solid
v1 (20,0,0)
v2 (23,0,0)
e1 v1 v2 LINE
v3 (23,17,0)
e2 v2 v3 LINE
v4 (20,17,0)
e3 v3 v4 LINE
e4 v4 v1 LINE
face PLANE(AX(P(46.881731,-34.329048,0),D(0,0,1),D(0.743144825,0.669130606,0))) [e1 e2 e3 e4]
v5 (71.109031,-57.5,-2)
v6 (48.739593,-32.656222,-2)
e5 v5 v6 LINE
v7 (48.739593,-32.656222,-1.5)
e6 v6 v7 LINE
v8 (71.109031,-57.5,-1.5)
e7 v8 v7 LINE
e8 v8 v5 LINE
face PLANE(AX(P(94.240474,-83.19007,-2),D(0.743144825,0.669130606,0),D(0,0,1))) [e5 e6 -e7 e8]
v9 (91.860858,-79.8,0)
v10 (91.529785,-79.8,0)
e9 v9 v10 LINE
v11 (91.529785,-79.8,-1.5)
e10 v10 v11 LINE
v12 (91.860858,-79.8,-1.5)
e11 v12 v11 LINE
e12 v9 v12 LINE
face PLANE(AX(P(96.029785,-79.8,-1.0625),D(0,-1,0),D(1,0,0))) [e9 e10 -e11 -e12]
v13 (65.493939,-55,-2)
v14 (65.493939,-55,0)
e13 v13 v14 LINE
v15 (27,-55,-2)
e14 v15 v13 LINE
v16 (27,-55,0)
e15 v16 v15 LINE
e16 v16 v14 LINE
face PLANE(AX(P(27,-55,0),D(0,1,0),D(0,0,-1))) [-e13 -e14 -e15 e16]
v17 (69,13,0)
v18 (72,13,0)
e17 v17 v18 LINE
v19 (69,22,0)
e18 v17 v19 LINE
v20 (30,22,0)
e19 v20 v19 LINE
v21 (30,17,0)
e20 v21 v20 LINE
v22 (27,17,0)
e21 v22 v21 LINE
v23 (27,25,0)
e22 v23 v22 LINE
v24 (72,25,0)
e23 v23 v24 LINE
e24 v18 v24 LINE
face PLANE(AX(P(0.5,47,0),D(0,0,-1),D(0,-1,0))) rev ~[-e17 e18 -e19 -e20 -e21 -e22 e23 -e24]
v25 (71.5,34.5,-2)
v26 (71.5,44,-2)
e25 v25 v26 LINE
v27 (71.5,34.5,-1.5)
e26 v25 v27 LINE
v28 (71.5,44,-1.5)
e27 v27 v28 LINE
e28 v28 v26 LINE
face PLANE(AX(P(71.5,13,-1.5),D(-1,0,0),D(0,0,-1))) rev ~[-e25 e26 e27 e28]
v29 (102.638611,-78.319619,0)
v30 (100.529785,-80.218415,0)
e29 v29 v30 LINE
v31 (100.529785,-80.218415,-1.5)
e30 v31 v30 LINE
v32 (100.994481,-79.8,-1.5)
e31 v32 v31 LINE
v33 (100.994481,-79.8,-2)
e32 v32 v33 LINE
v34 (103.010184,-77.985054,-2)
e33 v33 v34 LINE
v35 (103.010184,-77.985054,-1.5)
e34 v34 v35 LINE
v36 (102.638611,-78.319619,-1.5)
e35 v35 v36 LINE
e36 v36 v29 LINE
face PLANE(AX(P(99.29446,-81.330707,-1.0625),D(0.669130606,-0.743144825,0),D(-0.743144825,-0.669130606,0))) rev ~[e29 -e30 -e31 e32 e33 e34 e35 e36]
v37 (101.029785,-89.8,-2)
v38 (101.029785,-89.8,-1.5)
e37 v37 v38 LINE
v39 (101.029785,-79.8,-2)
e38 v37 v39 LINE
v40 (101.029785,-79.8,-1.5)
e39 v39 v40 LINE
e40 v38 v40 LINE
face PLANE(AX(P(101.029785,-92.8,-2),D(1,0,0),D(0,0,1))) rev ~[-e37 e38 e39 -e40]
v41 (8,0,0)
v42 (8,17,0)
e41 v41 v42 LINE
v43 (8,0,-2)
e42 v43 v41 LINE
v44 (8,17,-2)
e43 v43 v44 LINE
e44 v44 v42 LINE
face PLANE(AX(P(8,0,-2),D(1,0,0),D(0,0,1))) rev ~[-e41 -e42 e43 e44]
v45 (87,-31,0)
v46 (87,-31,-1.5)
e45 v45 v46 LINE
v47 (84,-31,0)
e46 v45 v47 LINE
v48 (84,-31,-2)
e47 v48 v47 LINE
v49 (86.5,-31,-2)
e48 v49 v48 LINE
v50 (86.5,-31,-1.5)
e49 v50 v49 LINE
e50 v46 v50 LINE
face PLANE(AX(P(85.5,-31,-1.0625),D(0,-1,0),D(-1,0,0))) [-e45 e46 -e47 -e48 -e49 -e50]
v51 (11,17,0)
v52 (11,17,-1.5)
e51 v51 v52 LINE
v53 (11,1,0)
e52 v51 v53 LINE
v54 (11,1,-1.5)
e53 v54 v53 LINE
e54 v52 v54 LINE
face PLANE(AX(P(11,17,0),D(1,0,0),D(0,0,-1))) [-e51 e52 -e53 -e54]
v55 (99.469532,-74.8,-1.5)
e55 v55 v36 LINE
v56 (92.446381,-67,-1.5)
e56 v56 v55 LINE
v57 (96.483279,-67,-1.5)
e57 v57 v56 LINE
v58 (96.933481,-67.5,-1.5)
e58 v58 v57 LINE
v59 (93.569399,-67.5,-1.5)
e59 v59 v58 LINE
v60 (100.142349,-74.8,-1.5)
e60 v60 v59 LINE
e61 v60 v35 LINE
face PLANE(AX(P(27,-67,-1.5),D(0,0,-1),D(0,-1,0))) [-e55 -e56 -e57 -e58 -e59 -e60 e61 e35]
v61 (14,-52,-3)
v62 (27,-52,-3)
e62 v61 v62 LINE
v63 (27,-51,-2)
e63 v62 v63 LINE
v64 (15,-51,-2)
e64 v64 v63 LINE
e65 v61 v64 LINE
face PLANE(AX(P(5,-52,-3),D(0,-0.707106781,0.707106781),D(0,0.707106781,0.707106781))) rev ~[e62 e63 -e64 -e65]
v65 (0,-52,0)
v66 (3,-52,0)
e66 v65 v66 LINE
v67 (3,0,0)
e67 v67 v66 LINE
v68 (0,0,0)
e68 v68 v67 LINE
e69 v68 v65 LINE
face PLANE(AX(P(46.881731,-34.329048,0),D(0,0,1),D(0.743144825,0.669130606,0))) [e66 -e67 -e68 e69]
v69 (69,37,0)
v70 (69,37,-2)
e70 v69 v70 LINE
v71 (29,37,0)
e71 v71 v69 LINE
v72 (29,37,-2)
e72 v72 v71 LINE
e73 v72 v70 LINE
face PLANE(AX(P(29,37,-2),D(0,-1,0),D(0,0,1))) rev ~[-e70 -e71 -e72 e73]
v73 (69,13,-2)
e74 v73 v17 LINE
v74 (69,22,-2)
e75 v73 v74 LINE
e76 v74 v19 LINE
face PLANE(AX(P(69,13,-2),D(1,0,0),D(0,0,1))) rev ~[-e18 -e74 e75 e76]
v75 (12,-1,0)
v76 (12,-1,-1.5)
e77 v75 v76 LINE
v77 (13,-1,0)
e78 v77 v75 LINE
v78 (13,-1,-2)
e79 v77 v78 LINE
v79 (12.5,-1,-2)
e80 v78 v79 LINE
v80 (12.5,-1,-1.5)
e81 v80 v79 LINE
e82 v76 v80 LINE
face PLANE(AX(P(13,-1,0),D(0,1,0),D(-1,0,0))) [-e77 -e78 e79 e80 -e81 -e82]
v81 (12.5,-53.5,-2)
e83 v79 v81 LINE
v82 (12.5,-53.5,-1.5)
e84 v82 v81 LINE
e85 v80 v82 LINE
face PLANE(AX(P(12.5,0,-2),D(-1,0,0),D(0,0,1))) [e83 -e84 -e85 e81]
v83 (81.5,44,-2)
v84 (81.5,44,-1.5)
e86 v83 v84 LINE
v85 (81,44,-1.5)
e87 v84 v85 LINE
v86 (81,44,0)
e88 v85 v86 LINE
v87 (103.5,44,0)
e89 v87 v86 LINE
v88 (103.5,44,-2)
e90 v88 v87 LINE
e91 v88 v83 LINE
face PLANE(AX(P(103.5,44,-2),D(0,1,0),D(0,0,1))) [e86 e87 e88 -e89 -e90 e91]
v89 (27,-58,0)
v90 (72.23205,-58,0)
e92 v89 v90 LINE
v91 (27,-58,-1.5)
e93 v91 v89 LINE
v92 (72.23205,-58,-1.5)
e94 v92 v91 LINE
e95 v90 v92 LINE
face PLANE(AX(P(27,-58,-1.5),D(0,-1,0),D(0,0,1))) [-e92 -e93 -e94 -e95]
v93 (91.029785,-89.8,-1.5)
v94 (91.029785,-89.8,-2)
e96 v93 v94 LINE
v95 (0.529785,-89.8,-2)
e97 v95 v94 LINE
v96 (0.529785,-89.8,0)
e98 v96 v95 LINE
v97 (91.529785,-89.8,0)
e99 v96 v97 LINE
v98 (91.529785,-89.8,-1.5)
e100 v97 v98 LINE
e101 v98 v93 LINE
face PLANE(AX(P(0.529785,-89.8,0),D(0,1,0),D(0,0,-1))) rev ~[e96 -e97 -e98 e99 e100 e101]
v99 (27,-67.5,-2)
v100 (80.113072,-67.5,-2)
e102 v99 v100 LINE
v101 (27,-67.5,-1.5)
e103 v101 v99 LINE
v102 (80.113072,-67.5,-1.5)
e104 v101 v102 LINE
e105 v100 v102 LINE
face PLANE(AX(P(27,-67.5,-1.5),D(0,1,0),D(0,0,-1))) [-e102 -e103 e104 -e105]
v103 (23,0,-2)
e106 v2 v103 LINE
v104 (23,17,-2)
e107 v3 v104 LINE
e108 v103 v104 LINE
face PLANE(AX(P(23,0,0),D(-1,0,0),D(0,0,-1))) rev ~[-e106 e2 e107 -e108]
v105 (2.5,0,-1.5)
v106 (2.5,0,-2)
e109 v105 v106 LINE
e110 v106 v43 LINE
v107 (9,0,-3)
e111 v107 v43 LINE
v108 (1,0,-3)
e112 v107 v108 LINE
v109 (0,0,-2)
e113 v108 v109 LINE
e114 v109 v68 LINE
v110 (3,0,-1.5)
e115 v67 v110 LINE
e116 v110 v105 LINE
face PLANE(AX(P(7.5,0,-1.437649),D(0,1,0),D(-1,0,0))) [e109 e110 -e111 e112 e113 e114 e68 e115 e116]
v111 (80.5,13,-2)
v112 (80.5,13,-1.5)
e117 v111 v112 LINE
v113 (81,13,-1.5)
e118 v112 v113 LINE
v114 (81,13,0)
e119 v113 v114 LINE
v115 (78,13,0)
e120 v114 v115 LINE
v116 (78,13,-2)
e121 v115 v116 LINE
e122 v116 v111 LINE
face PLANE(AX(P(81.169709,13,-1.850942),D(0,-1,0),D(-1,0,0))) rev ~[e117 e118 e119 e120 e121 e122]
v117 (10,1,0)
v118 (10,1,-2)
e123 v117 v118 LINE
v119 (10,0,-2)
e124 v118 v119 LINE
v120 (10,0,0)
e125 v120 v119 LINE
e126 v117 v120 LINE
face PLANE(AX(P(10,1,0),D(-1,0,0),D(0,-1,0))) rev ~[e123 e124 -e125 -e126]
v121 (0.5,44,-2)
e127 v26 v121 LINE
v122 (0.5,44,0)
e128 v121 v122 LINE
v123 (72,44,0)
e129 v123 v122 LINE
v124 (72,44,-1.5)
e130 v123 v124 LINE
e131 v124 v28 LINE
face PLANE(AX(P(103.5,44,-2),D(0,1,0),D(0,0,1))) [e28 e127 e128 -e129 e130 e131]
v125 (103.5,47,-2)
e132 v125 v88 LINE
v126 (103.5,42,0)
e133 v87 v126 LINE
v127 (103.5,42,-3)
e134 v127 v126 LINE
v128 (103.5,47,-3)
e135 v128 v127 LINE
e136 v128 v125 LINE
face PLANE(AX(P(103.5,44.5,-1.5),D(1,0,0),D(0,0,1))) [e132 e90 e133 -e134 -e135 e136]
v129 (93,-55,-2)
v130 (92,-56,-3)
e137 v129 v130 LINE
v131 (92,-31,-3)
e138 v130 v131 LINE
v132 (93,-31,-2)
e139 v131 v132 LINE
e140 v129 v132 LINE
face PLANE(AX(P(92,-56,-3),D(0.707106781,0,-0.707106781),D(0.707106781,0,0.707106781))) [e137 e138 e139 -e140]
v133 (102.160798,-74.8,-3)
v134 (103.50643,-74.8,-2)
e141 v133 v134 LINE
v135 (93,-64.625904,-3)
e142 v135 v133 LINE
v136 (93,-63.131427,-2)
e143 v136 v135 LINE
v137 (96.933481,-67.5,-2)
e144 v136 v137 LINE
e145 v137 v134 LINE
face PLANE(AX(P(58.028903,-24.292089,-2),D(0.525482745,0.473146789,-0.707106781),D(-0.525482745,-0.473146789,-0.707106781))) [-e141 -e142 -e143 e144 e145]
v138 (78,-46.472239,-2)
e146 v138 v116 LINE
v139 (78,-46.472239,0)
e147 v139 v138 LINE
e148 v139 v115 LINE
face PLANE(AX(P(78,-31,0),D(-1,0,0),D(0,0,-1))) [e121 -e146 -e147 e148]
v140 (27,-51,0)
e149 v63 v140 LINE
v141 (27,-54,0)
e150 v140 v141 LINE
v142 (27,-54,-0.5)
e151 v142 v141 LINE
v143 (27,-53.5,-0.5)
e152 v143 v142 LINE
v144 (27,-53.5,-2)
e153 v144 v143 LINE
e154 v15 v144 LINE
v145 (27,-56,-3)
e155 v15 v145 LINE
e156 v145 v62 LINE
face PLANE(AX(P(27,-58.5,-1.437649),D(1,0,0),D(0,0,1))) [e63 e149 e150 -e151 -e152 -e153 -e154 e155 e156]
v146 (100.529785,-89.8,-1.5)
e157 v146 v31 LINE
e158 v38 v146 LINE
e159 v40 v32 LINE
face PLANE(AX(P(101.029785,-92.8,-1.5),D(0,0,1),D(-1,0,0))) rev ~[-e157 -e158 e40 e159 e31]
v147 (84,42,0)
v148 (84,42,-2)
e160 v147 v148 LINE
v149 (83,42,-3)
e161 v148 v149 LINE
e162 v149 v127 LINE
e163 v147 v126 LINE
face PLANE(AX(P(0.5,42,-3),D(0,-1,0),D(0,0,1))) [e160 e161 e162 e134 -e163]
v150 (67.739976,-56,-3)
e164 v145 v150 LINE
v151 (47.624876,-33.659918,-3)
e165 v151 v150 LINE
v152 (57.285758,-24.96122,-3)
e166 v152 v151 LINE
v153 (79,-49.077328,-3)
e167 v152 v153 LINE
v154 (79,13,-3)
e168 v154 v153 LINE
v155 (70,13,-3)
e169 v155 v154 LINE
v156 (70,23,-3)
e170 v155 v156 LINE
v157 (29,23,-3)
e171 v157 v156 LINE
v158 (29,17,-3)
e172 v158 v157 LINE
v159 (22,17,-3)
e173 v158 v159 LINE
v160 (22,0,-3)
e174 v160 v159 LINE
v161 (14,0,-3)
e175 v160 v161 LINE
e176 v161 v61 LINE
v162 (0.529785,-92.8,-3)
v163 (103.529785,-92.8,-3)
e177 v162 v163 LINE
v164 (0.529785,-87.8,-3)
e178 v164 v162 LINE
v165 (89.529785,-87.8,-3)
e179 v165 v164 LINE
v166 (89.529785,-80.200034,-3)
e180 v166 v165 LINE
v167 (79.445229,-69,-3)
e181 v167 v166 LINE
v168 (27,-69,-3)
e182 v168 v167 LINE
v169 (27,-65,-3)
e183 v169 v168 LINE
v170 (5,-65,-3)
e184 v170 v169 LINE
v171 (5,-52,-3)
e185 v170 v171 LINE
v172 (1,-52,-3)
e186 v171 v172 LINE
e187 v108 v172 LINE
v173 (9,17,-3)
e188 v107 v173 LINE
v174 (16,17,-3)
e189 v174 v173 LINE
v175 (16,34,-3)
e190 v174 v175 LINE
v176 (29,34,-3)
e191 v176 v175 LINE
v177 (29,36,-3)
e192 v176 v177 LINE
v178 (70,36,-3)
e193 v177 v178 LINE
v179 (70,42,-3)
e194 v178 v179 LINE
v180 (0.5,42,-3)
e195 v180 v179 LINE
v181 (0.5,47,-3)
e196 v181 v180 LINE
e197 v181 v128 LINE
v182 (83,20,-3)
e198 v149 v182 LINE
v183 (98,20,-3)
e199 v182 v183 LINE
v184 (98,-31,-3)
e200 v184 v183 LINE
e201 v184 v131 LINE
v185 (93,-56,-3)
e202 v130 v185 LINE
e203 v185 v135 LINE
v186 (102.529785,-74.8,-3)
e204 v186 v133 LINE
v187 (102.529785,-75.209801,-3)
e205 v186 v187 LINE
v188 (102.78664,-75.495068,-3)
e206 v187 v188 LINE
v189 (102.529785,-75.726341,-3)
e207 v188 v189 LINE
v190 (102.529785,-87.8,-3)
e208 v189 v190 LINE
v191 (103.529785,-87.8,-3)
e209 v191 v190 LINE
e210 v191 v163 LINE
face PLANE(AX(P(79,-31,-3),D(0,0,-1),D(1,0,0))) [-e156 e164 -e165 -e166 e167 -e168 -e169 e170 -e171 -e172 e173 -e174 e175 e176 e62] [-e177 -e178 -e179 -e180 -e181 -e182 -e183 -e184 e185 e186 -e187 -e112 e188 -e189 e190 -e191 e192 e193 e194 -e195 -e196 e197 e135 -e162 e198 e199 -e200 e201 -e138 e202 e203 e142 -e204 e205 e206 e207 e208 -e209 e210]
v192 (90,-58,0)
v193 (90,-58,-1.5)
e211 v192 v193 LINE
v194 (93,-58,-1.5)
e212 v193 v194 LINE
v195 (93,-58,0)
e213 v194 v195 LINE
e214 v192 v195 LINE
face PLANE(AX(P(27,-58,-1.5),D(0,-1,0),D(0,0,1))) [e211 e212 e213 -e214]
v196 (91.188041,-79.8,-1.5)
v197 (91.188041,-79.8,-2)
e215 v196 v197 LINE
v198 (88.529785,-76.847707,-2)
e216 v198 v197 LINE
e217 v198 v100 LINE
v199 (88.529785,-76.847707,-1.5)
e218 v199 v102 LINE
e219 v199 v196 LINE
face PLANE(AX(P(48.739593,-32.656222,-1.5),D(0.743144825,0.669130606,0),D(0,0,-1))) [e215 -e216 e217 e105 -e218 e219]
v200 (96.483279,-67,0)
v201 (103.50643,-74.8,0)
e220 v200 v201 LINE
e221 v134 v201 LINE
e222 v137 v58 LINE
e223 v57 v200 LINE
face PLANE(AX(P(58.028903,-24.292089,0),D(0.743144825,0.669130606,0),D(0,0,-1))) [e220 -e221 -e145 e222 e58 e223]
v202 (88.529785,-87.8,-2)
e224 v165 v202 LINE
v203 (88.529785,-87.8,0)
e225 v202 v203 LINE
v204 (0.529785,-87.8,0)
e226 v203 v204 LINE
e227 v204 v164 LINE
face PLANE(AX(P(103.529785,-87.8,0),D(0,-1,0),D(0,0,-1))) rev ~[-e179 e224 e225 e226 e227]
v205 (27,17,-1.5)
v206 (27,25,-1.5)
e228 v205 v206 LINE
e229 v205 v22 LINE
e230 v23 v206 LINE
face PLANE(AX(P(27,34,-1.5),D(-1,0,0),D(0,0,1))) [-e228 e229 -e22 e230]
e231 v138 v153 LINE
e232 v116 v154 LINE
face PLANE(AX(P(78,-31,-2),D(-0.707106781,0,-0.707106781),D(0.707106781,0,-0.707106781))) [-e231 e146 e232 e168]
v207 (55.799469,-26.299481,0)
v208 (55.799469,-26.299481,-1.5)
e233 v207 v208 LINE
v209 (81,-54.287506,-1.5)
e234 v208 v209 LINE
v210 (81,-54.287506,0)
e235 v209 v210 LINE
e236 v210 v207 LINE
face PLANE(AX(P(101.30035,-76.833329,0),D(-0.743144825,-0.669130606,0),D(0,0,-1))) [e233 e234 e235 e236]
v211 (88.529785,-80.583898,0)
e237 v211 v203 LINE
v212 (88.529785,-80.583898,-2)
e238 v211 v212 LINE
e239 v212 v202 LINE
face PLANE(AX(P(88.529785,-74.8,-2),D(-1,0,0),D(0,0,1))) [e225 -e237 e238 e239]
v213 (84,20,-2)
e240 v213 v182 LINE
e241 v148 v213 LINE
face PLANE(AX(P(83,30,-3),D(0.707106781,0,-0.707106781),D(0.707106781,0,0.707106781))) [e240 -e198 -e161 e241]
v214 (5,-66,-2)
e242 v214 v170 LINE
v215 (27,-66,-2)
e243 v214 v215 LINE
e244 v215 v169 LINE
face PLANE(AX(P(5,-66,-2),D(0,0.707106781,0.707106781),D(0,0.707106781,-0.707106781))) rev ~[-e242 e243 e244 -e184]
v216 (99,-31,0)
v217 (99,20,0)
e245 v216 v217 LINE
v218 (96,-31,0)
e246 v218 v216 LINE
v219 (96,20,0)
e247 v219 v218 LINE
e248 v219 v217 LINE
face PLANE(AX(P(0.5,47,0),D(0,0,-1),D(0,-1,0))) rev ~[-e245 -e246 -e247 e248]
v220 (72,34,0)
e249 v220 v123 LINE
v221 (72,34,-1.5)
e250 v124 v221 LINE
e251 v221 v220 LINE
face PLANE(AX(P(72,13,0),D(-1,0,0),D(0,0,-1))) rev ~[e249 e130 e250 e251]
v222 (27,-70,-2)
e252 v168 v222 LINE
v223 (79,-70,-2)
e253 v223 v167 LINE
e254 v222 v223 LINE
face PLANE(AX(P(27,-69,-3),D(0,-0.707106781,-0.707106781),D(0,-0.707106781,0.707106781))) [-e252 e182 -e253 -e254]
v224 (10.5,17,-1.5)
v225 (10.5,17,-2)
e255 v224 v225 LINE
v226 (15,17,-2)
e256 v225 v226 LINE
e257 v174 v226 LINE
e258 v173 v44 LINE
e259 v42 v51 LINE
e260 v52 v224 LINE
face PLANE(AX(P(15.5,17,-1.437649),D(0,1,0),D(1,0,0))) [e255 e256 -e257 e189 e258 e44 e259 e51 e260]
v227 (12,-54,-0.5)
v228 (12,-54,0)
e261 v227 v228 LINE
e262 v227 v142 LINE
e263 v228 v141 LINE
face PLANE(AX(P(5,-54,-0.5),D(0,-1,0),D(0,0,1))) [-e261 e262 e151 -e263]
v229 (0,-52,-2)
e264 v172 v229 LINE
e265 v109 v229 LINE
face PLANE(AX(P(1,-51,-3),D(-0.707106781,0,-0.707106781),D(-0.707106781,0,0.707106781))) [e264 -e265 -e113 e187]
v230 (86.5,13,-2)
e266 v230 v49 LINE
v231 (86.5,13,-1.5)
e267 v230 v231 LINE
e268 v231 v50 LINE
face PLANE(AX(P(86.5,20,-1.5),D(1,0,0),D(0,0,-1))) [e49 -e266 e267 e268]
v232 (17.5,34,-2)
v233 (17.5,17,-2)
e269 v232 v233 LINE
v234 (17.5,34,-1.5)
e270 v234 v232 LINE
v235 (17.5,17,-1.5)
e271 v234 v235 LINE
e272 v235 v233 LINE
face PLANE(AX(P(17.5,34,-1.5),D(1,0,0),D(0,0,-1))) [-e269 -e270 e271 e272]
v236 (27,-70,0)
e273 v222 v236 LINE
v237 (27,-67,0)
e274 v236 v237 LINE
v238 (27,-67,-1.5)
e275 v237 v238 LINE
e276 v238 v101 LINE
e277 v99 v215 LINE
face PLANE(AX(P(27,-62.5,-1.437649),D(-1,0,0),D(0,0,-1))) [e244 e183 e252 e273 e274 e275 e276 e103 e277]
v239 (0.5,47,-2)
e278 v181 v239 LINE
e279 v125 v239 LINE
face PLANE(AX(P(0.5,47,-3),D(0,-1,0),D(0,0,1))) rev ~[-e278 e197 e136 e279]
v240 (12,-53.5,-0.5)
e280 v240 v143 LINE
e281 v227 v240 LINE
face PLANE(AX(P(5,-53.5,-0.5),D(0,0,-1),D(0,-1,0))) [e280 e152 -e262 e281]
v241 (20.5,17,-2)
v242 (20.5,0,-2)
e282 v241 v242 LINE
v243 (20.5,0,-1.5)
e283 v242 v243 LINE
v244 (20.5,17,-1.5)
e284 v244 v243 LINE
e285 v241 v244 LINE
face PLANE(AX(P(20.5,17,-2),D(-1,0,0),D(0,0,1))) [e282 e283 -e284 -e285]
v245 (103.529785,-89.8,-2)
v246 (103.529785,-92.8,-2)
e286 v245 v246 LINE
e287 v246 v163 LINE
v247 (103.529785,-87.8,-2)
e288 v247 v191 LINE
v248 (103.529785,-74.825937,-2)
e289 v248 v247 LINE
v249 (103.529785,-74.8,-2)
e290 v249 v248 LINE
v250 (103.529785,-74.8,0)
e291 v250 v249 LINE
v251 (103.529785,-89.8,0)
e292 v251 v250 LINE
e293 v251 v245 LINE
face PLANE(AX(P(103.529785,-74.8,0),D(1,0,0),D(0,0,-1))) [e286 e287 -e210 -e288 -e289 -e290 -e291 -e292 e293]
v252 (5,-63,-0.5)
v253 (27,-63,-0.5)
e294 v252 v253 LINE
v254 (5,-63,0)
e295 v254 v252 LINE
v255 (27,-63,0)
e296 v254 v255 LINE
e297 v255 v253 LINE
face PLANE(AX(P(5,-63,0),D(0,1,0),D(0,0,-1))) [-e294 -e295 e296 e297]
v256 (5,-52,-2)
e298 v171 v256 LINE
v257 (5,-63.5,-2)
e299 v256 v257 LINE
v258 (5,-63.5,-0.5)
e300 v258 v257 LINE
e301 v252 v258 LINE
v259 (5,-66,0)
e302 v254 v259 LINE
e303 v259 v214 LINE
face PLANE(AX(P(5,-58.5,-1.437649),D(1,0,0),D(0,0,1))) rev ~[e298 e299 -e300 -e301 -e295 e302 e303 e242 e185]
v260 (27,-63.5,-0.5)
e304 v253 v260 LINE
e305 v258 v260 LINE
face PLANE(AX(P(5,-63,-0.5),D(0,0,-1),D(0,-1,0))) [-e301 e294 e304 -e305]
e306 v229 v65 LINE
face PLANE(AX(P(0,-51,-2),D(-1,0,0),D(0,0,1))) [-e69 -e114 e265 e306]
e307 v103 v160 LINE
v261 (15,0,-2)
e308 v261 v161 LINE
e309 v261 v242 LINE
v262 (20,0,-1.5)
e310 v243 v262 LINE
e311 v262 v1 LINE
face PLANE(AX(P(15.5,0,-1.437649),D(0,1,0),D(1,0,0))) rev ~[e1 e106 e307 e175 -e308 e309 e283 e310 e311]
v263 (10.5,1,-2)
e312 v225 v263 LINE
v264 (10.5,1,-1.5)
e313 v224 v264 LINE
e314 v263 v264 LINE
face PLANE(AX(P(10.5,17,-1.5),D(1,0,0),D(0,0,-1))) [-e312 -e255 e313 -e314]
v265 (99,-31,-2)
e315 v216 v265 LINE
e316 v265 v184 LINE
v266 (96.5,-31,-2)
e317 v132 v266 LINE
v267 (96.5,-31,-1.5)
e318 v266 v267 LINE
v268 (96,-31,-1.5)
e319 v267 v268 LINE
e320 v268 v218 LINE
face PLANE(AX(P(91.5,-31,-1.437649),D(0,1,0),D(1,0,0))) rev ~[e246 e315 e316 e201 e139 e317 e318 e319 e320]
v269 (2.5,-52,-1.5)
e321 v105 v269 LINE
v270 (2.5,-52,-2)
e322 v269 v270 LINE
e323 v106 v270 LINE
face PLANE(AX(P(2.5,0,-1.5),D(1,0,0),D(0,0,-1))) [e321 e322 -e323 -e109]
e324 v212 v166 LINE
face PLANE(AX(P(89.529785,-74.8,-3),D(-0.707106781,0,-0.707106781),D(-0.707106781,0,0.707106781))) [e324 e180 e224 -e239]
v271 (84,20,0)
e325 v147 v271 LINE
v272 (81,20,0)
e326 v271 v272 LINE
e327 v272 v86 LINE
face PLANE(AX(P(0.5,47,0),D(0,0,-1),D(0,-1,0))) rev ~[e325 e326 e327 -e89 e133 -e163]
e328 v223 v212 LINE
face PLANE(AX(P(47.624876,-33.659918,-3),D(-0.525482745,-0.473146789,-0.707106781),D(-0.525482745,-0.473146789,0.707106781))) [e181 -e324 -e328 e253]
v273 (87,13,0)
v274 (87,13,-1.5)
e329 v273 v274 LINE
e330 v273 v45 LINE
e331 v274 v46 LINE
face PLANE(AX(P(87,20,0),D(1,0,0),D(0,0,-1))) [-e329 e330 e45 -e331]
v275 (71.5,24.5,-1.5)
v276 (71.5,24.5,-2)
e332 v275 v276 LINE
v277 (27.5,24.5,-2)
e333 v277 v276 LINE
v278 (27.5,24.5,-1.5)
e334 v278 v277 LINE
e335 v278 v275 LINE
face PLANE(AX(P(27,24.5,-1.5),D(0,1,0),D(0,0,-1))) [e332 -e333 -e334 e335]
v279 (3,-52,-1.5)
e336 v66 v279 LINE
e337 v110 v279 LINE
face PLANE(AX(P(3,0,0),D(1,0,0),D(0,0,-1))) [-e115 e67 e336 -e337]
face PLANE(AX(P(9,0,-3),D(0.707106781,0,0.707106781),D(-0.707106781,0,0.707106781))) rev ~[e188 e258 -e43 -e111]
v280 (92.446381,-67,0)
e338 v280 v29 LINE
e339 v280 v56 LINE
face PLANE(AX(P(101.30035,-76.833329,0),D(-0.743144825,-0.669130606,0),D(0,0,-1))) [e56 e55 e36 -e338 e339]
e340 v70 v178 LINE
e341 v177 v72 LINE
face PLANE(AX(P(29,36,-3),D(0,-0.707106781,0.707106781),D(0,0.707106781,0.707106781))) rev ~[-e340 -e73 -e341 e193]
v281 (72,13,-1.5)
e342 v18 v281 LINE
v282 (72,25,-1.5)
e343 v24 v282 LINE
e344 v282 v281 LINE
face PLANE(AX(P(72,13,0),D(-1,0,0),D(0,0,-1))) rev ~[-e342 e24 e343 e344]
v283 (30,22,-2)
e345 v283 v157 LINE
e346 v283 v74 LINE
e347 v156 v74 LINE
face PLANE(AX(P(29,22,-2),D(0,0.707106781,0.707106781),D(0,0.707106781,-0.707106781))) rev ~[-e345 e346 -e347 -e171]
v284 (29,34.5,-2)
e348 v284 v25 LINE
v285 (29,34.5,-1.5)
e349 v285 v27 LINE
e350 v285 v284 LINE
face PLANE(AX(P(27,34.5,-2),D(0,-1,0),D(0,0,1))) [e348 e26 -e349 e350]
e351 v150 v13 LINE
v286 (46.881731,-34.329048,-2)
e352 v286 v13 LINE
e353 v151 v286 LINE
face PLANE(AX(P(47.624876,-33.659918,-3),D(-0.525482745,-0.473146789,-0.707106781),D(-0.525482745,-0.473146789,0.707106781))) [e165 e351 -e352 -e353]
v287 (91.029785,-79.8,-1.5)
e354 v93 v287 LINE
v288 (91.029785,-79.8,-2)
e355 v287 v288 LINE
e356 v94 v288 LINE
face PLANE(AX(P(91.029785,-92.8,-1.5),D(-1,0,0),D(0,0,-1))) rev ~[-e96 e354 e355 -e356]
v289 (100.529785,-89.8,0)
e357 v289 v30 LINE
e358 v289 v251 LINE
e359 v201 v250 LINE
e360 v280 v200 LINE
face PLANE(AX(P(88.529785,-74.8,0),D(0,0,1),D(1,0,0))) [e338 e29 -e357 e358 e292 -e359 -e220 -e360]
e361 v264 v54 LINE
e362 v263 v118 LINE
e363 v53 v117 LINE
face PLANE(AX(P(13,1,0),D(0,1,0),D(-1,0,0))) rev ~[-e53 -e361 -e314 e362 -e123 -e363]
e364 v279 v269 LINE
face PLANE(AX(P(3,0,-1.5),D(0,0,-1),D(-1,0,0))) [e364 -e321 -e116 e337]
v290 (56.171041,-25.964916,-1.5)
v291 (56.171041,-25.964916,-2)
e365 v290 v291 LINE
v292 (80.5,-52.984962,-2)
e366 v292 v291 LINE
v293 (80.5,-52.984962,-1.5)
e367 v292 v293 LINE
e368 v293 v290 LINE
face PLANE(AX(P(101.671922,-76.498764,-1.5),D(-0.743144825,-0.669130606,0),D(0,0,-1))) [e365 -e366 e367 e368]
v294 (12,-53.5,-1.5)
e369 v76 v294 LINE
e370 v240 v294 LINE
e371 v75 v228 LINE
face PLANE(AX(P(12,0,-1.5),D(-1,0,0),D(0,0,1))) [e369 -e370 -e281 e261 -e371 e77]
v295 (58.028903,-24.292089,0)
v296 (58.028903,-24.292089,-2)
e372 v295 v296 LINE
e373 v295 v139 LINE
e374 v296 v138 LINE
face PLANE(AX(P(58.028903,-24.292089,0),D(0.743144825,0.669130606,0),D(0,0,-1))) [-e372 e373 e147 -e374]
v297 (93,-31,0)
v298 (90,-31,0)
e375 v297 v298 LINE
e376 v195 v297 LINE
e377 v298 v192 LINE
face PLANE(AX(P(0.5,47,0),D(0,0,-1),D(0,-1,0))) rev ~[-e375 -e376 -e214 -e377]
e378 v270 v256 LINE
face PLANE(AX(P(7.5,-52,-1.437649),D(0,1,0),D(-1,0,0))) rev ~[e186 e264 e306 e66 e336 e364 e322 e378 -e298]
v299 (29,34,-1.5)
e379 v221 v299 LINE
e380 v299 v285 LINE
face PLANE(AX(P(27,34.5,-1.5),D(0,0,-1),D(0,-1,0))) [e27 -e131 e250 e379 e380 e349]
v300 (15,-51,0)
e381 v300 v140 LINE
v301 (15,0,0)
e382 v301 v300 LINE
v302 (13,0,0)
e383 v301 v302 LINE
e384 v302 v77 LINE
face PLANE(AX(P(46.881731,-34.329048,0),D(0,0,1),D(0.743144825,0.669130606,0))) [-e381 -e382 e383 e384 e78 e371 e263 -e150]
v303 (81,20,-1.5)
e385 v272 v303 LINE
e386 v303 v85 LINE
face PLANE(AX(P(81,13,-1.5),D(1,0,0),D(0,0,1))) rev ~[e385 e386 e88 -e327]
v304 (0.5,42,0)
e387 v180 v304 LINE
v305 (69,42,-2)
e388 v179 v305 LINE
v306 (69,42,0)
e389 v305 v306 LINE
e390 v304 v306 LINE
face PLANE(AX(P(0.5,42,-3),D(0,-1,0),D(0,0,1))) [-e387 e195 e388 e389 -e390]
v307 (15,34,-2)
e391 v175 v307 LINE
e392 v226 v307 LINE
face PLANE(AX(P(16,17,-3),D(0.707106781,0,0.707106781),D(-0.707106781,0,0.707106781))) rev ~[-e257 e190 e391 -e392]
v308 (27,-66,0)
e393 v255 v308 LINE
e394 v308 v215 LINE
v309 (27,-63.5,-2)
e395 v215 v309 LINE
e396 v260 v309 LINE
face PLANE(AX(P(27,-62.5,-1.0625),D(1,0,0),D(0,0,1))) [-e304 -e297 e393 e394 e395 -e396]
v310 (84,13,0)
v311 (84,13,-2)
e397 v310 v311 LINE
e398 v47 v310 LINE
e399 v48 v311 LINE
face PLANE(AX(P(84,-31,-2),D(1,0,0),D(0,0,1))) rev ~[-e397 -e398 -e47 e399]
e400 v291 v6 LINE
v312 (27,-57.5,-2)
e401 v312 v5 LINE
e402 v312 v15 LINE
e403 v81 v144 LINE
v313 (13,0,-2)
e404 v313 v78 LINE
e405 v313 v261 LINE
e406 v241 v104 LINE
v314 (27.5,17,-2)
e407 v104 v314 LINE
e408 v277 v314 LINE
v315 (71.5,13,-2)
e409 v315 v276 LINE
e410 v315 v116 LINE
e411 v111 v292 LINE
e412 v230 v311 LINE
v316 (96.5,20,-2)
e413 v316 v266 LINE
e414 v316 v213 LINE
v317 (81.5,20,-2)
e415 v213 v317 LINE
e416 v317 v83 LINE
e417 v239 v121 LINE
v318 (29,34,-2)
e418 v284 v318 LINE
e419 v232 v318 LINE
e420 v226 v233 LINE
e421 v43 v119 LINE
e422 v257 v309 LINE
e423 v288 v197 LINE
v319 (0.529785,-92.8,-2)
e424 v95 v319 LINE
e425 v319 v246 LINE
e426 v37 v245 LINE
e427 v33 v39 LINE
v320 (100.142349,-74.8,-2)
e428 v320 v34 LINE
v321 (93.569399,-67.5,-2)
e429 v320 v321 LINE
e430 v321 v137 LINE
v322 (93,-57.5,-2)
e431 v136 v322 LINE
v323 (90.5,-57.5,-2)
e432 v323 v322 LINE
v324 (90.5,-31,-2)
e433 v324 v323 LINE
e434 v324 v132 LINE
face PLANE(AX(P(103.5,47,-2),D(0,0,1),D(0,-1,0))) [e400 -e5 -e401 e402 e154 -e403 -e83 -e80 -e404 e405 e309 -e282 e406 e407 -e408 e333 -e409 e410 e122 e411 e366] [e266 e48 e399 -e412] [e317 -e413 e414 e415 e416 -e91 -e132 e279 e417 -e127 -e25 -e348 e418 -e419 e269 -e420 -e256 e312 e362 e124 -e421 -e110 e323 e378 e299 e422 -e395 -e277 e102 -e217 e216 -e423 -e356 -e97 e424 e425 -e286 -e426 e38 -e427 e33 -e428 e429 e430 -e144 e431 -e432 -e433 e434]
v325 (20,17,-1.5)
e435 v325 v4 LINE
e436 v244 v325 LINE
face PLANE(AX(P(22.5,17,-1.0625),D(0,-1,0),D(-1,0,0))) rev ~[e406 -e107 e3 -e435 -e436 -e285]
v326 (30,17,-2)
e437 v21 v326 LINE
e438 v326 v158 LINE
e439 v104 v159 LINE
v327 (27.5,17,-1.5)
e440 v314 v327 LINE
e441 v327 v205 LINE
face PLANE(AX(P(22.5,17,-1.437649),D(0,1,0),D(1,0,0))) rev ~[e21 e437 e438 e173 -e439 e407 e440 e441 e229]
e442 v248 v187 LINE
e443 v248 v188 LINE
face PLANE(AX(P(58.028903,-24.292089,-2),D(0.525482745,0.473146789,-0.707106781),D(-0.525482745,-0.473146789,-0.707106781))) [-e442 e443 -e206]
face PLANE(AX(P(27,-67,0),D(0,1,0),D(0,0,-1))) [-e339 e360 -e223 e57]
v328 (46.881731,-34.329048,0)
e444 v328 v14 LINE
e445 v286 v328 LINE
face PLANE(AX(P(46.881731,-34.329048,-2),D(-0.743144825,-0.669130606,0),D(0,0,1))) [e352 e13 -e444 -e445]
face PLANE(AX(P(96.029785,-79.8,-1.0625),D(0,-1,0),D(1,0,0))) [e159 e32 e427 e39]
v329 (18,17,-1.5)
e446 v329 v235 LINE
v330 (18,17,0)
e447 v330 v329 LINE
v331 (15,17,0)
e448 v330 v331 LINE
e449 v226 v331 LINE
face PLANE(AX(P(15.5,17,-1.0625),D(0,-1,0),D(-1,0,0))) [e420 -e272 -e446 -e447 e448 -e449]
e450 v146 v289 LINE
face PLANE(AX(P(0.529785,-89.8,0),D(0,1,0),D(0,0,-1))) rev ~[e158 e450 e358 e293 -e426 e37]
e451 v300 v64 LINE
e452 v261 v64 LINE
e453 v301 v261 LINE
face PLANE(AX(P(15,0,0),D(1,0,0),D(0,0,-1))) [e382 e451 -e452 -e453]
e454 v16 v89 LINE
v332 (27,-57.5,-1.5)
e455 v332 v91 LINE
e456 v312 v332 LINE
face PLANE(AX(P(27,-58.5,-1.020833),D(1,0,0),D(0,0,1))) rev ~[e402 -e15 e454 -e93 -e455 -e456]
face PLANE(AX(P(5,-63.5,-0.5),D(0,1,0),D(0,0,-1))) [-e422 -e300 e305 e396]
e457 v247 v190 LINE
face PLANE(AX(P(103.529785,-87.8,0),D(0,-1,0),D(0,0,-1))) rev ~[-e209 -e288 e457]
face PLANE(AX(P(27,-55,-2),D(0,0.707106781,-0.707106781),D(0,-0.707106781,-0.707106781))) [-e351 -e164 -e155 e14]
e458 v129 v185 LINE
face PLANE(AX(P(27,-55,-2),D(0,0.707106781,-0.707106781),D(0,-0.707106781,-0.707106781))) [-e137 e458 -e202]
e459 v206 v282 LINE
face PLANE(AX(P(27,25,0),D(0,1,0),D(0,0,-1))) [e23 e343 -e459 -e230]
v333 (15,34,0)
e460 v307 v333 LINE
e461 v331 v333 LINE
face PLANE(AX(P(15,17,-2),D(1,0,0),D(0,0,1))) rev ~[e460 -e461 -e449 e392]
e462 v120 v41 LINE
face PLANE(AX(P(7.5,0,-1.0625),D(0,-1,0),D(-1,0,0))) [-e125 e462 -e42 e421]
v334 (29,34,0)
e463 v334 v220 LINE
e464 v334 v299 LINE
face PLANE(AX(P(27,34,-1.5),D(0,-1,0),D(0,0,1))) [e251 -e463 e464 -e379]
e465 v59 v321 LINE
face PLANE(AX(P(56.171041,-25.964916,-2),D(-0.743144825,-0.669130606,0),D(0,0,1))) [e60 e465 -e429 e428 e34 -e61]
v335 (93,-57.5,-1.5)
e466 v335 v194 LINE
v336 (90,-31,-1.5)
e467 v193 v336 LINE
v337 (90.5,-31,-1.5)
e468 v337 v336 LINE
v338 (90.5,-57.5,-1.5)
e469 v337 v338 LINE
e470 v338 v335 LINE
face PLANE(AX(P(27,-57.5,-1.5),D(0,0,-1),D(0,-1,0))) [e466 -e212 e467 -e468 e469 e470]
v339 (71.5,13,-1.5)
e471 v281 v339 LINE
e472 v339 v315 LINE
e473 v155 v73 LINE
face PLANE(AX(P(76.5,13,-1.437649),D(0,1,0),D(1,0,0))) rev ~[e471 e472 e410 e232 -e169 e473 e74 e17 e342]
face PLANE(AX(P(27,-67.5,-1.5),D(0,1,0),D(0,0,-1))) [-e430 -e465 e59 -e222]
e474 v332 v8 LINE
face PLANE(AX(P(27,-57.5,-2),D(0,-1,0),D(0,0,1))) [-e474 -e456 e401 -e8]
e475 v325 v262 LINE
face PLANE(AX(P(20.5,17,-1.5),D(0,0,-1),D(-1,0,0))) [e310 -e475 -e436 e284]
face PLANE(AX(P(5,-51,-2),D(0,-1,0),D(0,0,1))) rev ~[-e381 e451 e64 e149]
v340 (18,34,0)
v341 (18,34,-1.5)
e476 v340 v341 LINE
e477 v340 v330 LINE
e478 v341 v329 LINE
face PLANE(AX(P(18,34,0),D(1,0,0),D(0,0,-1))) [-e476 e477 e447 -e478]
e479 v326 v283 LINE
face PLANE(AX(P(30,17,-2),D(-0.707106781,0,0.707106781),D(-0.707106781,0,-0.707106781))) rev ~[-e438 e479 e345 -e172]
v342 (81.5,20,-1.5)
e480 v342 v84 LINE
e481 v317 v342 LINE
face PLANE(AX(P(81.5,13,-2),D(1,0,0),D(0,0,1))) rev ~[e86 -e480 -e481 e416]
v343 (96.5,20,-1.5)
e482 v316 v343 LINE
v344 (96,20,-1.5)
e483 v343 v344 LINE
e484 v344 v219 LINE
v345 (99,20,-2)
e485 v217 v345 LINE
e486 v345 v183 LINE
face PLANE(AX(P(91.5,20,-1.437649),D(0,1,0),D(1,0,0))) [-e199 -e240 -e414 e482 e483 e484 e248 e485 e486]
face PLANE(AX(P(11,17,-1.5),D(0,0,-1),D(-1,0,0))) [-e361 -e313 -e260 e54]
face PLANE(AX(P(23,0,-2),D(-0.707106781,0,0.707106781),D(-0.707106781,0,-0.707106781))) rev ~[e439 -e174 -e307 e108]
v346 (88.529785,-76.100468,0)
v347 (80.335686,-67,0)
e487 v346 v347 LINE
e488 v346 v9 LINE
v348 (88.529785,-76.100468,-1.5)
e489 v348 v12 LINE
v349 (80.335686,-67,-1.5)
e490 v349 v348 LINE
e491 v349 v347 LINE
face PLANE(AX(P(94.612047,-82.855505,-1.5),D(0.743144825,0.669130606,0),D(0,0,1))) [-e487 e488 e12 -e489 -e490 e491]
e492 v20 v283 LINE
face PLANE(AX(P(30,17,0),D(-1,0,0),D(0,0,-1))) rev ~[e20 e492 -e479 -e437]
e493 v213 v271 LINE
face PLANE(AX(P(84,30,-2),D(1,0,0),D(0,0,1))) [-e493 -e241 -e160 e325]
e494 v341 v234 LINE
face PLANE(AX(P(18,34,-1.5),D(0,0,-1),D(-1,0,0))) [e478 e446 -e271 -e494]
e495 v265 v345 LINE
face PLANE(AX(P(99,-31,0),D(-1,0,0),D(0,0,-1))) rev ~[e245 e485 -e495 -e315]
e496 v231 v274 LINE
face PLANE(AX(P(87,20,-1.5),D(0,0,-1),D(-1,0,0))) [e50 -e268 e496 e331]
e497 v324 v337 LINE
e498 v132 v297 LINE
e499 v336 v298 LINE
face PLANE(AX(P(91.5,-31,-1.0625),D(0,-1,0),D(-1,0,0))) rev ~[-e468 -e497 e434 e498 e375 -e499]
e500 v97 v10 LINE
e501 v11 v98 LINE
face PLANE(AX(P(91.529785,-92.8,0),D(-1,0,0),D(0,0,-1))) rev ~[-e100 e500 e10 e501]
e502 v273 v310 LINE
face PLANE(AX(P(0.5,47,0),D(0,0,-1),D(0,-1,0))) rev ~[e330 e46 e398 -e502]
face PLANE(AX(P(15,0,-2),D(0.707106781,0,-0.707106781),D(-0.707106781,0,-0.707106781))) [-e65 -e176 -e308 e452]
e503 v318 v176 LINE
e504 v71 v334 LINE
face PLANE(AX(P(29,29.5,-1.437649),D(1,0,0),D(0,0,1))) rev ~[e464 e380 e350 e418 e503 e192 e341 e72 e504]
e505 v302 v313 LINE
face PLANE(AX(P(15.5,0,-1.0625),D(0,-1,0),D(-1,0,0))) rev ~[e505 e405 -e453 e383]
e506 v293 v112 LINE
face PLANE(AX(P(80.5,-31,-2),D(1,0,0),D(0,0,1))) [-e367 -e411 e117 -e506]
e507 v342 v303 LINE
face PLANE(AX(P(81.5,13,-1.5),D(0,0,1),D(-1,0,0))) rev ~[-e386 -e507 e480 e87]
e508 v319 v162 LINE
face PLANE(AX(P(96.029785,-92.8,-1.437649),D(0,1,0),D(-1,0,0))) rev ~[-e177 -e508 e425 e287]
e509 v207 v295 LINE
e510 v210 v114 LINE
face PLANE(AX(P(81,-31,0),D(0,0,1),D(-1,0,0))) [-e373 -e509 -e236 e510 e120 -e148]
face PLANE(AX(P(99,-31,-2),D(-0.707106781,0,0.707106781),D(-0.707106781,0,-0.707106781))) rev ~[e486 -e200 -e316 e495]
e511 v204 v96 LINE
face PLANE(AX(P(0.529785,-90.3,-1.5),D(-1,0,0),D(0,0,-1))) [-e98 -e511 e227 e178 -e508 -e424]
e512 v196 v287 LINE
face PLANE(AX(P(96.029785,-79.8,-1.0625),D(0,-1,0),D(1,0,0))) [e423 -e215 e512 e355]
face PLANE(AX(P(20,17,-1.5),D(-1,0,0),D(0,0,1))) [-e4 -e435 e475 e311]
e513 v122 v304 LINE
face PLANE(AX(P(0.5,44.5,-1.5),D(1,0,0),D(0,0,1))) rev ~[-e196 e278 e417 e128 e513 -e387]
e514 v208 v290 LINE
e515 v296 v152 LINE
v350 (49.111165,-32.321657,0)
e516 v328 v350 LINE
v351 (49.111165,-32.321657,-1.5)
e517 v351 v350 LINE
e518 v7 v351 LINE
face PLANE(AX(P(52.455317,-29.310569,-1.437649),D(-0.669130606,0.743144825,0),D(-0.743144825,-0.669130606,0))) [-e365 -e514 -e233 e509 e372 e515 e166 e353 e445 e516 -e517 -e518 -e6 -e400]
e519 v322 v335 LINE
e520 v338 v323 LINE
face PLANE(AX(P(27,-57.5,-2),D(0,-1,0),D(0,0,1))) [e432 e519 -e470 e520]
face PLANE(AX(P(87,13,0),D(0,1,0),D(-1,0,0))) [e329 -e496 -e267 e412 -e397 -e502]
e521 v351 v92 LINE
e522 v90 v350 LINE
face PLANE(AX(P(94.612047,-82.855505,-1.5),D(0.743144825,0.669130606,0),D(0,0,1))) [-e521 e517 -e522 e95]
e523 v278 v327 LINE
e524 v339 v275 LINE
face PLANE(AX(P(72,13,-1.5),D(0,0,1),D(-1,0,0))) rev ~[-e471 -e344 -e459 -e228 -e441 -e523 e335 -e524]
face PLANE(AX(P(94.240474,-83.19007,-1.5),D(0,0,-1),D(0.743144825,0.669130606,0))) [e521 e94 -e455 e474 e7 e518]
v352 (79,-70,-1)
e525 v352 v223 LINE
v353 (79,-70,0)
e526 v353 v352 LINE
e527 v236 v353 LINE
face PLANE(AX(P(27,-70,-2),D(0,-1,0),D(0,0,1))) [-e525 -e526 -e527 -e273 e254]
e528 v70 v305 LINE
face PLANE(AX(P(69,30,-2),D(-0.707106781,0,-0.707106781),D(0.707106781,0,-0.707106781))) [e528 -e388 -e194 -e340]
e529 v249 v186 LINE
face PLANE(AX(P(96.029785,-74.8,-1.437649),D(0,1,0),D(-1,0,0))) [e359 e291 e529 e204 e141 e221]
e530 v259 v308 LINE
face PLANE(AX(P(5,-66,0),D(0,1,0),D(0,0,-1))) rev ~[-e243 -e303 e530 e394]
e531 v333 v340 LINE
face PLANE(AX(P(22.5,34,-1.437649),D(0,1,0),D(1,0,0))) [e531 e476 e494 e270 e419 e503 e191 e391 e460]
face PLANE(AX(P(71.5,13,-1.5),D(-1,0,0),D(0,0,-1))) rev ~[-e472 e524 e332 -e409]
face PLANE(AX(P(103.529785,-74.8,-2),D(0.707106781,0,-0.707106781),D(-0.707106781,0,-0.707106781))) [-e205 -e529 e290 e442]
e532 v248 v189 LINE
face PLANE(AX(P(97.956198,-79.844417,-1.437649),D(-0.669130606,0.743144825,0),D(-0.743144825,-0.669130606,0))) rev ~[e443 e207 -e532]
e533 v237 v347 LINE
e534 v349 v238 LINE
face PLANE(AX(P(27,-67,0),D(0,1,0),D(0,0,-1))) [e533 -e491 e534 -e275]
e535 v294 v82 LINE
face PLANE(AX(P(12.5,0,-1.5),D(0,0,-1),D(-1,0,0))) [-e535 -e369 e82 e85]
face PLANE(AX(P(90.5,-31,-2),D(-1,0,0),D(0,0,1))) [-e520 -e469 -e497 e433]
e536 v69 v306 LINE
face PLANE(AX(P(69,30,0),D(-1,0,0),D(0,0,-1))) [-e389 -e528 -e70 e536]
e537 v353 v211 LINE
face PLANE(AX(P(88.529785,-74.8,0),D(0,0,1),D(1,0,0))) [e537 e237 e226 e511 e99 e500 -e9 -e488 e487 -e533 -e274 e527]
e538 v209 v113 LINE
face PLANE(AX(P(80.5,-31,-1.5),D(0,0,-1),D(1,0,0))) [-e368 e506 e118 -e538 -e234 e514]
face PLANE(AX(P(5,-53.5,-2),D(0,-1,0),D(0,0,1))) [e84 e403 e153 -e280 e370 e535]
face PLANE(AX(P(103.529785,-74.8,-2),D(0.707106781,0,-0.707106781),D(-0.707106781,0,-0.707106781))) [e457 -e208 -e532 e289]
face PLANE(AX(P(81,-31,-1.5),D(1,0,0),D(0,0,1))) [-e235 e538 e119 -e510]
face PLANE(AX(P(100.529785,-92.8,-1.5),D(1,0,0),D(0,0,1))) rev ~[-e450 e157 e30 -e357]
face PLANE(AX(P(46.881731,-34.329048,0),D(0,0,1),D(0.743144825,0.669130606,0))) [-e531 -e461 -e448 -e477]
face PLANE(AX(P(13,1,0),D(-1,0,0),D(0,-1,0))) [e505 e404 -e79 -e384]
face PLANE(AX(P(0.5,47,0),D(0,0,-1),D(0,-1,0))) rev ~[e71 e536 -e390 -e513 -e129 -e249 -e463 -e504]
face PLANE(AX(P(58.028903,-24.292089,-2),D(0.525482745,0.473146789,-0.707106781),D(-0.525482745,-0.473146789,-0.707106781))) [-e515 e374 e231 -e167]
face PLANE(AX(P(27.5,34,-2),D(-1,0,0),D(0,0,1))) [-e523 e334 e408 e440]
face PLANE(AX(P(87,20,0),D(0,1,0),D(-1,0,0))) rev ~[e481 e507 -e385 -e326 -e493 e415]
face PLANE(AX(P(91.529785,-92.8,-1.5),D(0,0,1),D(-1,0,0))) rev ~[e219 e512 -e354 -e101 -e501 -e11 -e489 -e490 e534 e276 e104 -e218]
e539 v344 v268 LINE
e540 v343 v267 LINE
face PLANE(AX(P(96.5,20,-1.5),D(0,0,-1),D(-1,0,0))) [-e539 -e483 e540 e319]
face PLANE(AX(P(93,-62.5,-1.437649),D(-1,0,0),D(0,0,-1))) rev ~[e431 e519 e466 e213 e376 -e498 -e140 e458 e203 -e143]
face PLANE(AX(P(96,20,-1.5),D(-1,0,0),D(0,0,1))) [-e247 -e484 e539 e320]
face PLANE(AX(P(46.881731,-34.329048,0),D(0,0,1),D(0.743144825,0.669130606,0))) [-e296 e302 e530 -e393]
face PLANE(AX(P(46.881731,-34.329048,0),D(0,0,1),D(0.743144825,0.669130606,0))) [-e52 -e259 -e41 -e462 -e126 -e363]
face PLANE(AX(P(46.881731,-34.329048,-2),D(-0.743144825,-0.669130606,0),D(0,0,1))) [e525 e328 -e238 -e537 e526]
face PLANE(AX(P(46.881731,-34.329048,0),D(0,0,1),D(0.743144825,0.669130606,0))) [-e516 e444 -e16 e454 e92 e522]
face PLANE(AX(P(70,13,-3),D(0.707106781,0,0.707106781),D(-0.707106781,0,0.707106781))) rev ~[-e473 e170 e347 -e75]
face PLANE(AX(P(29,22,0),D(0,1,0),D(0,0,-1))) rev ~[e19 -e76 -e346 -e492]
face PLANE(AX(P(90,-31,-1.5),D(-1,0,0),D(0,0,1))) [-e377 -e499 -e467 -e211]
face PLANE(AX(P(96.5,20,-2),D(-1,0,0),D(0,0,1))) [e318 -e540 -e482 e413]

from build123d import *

# Parameters (mm, degrees)
PAD_DEPTH       = 51
PAD001_DEPTH    = 22
PAD002_DEPTH    = 66
PAD003_DEPTH    = 1
PAD004_DEPTH    = 25
PAD005_DEPTH    = 51
PAD006_DEPTH    = 17
PAD007_DEPTH    = 17
PAD008_DEPTH    = 17
PAD009_DEPTH    = 41
SKETCH010_W     = 2
SKETCH010_H     = 1
PAD010_DEPTH    = 7
POCKET_DEPTH    = 1
PAD011_DEPTH    = 68
POCKET001_DEPTH = 68
POCKET002_DEPTH = 70
POCKET003_DEPTH = 22
POCKET004_DEPTH = 54
POCKET005_DEPTH = 17
SKETCH018_W     = 3
SKETCH018_H     = 2
POCKET006_DEPTH = 2
POCKET007_DEPTH = 17
PAD012_DEPTH    = 17
PAD013_DEPTH    = 18
POCKET008_DEPTH = 70
SKETCH023_W     = 3
SKETCH023_H     = 5
PAD014_DEPTH    = 103
POCKET009_DEPTH = 13
SKETCH025_W     = 2
SKETCH025_H     = 3
POCKET010_DEPTH = 103
SKETCH026_W     = 3
SKETCH026_H     = 5
PAD015_DEPTH    = 103
SKETCH027_W     = 2
SKETCH027_H     = 3
POCKET011_DEPTH = 103
POCKET012_DEPTH = 31
POCKET013_DEPTH = 45
POCKET014_DEPTH = 28
PAD016_DEPTH    = 44
POCKET015_DEPTH = 51
SKETCH033_W     = 6
SKETCH033_H     = 7
POCKET016_DEPTH = 2


with BuildPart() as part:
    # Sketch → Pad (new body)
    with BuildSketch(Plane.XZ):
        Polygon((0, 0), (15, 0), (15, -2), (14, -3), (1, -3), (0, -2), align=None)
    extrude(amount=PAD_DEPTH)

    # Sketch001 (on Face2 of Pad) → Pad001 (join)
    with BuildSketch(Plane(origin=(5, 0, 0), x_dir=(0, 0, 1), z_dir=(1, 0, 0))):
        Polygon((0, 51), (0, 66), (-2, 66), (-3, 65), (-3, 52), (-2, 51), align=None)
    extrude(amount=PAD001_DEPTH)

    # Sketch002 (on Face14 of Pad001) → Pad002 (join)
    with BuildSketch(Plane(origin=(27, 0, 0), x_dir=(0, 0, 1), z_dir=(1, 0, 0))):
        Polygon((0, 70), (0, 55), (-2, 55), (-3, 56), (-3, 69), (-2, 70), align=None)
    extrude(amount=PAD002_DEPTH)

    # Sketch004 (on Face5 of Pad002) → Pad003 (join)
    with BuildSketch(Plane.XZ.offset(51)):
        Polygon((0, 0), (15, 0), (15, -2), (14, -3), (1, -3), (0, -2), align=None)
    extrude(amount=PAD003_DEPTH)

    # Sketch003 (on Face20 of Pad002) → Pad004 (join)
    with BuildSketch(Plane(origin=(0, -56, 0), x_dir=(1, 0, 0), z_dir=(0, 1, 0))):
        Polygon((93, 0), (78, 0), (78, 2), (79, 3), (92, 3), (93, 2), align=None)
    extrude(amount=PAD004_DEPTH)

    # Sketch005 (on Face38 of Pad004) → Pad005 (join)
    with BuildSketch(Plane(origin=(0, -31, 0), x_dir=(1, 0, 0), z_dir=(0, 1, 0))):
        Polygon((84, 0), (99, 0), (99, 2), (98, 3), (85, 3), (84, 2), align=None)
    extrude(amount=PAD005_DEPTH)

    # Sketch006 (on Face47 of Pad005) → Pad006 (join)
    with BuildSketch(Plane(origin=(0, 13, 0), x_dir=(1, 0, 0), z_dir=(0, 1, 0))):
        Polygon((69, 0), (84, 0), (84, 2), (83, 3), (70, 3), (69, 2), align=None)
    extrude(amount=PAD006_DEPTH)

    # Sketch007 (on Face4 of Pad006) → Pad007 (join)
    with BuildSketch(Plane(origin=(0, 0, 0), x_dir=(1, 0, 0), z_dir=(0, 1, 0))):
        Polygon((8, 0), (23, 0), (23, 2), (22, 3), (9, 3), (8, 2), align=None)
    extrude(amount=PAD007_DEPTH)

    # Sketch008 (on Face17 of Pad007) → Pad008 (join)
    with BuildSketch(Plane(origin=(0, 17, 0), x_dir=(1, 0, 0), z_dir=(0, 1, 0))):
        Polygon((15, 0), (30, 0), (30, 2), (29, 3), (16, 3), (15, 2), align=None)
    extrude(amount=PAD008_DEPTH)

    # Sketch009 (on Face31 of Pad008) → Pad009 (join)
    with BuildSketch(Plane(origin=(29, 0, 0), x_dir=(0, 0, 1), z_dir=(1, 0, 0))):
        Polygon((0, -37), (0, -22), (-2, -22), (-3, -23), (-3, -36), (-2, -37), align=None)
    extrude(amount=PAD009_DEPTH)

    # Sketch010 (on Face81 of Pad009) → Pad010 (join)
    with BuildSketch(Plane(origin=(0, 13, 0), x_dir=(1, 0, 0), z_dir=(0, 1, 0))):
        with Locations((84, 2.5)):
            Rectangle(SKETCH010_W, SKETCH010_H)
    extrude(amount=PAD010_DEPTH)

    # Sketch011 (on Face36 of Pad010) → Pocket (cut)
    with BuildSketch(Plane(origin=(0, 0, 0), x_dir=(-1, 0, 0), z_dir=(0, 0, 1))):
        Polygon((-90.1471723822, 70), (-79, 70), (-90.1471723822, 59.9630409046), align=None)
    extrude(amount=-POCKET_DEPTH, mode=Mode.SUBTRACT)

    # Sketch012 (on Face51 of Pocket) → Pad011 (join)
    with BuildSketch(Plane(origin=(38.0611229336, -42.2711594585, 0), x_dir=(0.7431448255, 0.6691306064, 0), z_dir=(0.6691306064, -0.7431448255, 0))):
        Polygon((11.8692987676, 0), (26.8692987676, 0), (26.8692987676, -2), (25.8692987676, -3), (12.8692987676, -3), (11.8692987676, -2), align=None)
    extrude(amount=PAD011_DEPTH)

    # Sketch013 (on Face80 of Pad011) → Pocket001 (cut)
    with BuildSketch(Plane(origin=(83.562004166, -92.805007591, 0), x_dir=(0.7431448255, 0.6691306064, 0), z_dir=(0.6691306064, -0.7431448255, 0))):
        Polygon((14.8692987676, 0), (23.8692987676, 0), (23.8692987676, -1.5), (24.3692987676, -1.5), (24.3692987676, -2), (14.3692987676, -2), (14.3692987676, -1.5), (14.8692987676, -1.5), align=None)
    extrude(amount=-POCKET001_DEPTH, mode=Mode.SUBTRACT)

    # Sketch014 (on Face46 of Pocket001) → Pocket002 (cut)
    with BuildSketch(Plane(origin=(27, 0, 0), x_dir=(0, 0, -1), z_dir=(-1, 0, 0))):
        Polygon((0, 67), (1.5, 67), (1.5, 67.5), (2, 67.5), (2, 57.5), (1.5, 57.5), (1.5, 58), (0, 58), align=None)
    extrude(amount=-POCKET002_DEPTH, mode=Mode.SUBTRACT)

    # Sketch015 (on Face34 of Pocket002) → Pocket003 (cut)
    with BuildSketch(Plane(origin=(5, 0, 0), x_dir=(0, 0, -1), z_dir=(-1, 0, 0))):
        Polygon((0, 63), (0.5, 63), (0.5, 63.5), (2, 63.5), (2, 53.5), (0.5, 53.5), (0.5, 54), (0, 54), align=None)
    extrude(amount=-POCKET003_DEPTH, mode=Mode.SUBTRACT)

    # Sketch016 (on Face4 of Pocket003) → Pocket004 (cut)
    with BuildSketch(Plane(origin=(0, 0, 0), x_dir=(1, 0, 0), z_dir=(0, 1, 0))):
        Polygon((2.5, 2), (12.5, 2), (12.5, 1.5), (12, 1.5), (12, 0), (3, 0), (3, 1.5), (2.5, 1.5), align=None)
    extrude(amount=-POCKET004_DEPTH, mode=Mode.SUBTRACT)

    # Sketch017 (on Face19 of Pocket004) → Pocket005 (cut)
    with BuildSketch(Plane(origin=(0, 17, 0), x_dir=(1, 0, 0), z_dir=(0, 1, 0))):
        Polygon((11, 0), (11, 1.5), (10.5, 1.5), (10.5, 2), (20.5, 2), (20.5, 1.5), (20, 1.5), (20, 0), align=None)
    extrude(amount=-POCKET005_DEPTH, mode=Mode.SUBTRACT)

    # Sketch018 (on Face48 of Pocket005) → Pocket006 (cut)
    with BuildSketch(Plane(origin=(0, 0, 0), x_dir=(-1, 0, 0), z_dir=(0, 0, 1))):
        with Locations((-11.5, 0)):
            Rectangle(SKETCH018_W, SKETCH018_H)
    extrude(amount=-POCKET006_DEPTH, mode=Mode.SUBTRACT)

    # Sketch019 (on Face63 of Pocket006) → Pocket007 (cut)
    with BuildSketch(Plane(origin=(0, 34, 0), x_dir=(1, 0, 0), z_dir=(0, 1, 0))):
        Polygon((18, 0), (18, 1.5), (17.5, 1.5), (17.5, 2), (27.5, 2), (27.5, 1.5), (27, 1.5), (27, 0), align=None)
    extrude(amount=-POCKET007_DEPTH, mode=Mode.SUBTRACT)

    # Sketch020 (on Face117 of Pocket007) → Pad012 (join)
    with BuildSketch(Plane(origin=(0, 30, 0), x_dir=(1, 0, 0), z_dir=(0, 1, 0))):
        Polygon((70, 3), (83, 3), (84, 2), (84, 0), (69, 0), (69, 2), align=None)
    extrude(amount=PAD012_DEPTH)

    # Sketch021 (on Face108 of Pad012) → Pad013 (join)
    with BuildSketch(Plane.XZ.offset(74.8)):
        Polygon((88.5297845093, 0), (103.5297845093, 0), (103.5297845093, -2), (102.5297845093, -3), (89.5297845093, -3), (88.5297845093, -2), align=None)
    extrude(amount=PAD013_DEPTH)

    # Sketch022 (on Face158 of Pad013) → Pocket008 (cut)
    with BuildSketch(Plane(origin=(38.0611229336, -42.2711594585, 0), x_dir=(0.7431448255, 0.6691306064, 0), z_dir=(-0.6691306064, 0.7431448255, 0))):
        Polygon((14.3692987676, 2), (24.3692987676, 2), (24.3692987676, 1.5), (23.8692987676, 1.5), (23.8692987676, 0), (14.8692987676, 0), (14.8692987676, 1.5), (14.3692987676, 1.5), align=None)
    extrude(amount=-POCKET008_DEPTH, mode=Mode.SUBTRACT)

    # Sketch023 (on Face171 of Pocket008) → Pad014 (join)
    with BuildSketch(Plane(origin=(103.5297845093, 0, 0), x_dir=(0, 0, -1), z_dir=(-1, 0, 0))):
        with Locations((1.5, 90.3)):
            Rectangle(SKETCH023_W, SKETCH023_H)
    extrude(amount=PAD014_DEPTH)

    # Sketch024 (on Face231 of Pad014) → Pocket009 (cut)
    with BuildSketch(Plane.XZ.offset(92.8)):
        Polygon((91.0297845093, -2), (101.0297845093, -2), (101.0297845093, -1.5), (100.5297845093, -1.5), (100.5297845093, 0), (91.5297845093, 0), (91.5297845093, -1.5), (91.0297845093, -1.5), align=None)
    extrude(amount=-POCKET009_DEPTH, mode=Mode.SUBTRACT)

    # Sketch025 (on Face210 of Pocket009) → Pocket010 (cut)
    with BuildSketch(Plane(origin=(0.5297845093, 0, 0), x_dir=(0, 0, -1), z_dir=(-1, 0, 0))):
        with Locations((1, 91.3)):
            Rectangle(SKETCH025_W, SKETCH025_H)
    extrude(amount=-POCKET010_DEPTH, mode=Mode.SUBTRACT)

    # Sketch026 (on Face150 of Pocket010) → Pad015 (join)
    with BuildSketch(Plane(origin=(0.5, 0, 0), x_dir=(0, 0, 1), z_dir=(1, 0, 0))):
        with Locations((-1.5, -44.5)):
            Rectangle(SKETCH026_W, SKETCH026_H)
    extrude(amount=PAD015_DEPTH)

    # Sketch027 (on Face187 of Pad015) → Pocket011 (cut)
    with BuildSketch(Plane(origin=(103.5, 0, 0), x_dir=(0, 0, 1), z_dir=(1, 0, 0))):
        with Locations((-1, -45.5)):
            Rectangle(SKETCH027_W, SKETCH027_H)
    extrude(amount=-POCKET011_DEPTH, mode=Mode.SUBTRACT)

    # Sketch028 (on Face117 of Pocket011) → Pocket012 (cut)
    with BuildSketch(Plane.XZ.offset(-13)):
        Polygon((71.5, -2), (81.5, -2), (81.5, -1.5), (81, -1.5), (81, 0), (72, 0), (72, -1.5), (71.5, -1.5), align=None)
    extrude(amount=-POCKET012_DEPTH, mode=Mode.SUBTRACT)

    # Sketch029 (on Face87 of Pocket012) → Pocket013 (cut)
    with BuildSketch(Plane(origin=(27, 0, 0), x_dir=(0, 0, -1), z_dir=(-1, 0, 0))):
        Polygon((2, -24.5), (2, -34.5), (1.5, -34.5), (1.5, -34), (0, -34), (0, -25), (1.5, -25), (1.5, -24.5), align=None)
    extrude(amount=-POCKET013_DEPTH, mode=Mode.SUBTRACT)

    # Sketch030 (on Face210 of Pocket013) → Pocket014 (cut)
    with BuildSketch(Plane(origin=(0, -31, 0), x_dir=(1, 0, 0), z_dir=(0, 1, 0))):
        Polygon((80.5, 2), (90.5, 2), (90.5, 1.5), (90, 1.5), (90, 0), (81, 0), (81, 1.5), (80.5, 1.5), align=None)
    extrude(amount=-POCKET014_DEPTH, mode=Mode.SUBTRACT)

    # Sketch031 (on Face234 of Pocket014) → Pad016 (join)
    with BuildSketch(Plane(origin=(0, -31, 0), x_dir=(1, 0, 0), z_dir=(0, 1, 0))):
        Polygon((78, 2), (79, 3), (85, 3), (85, 2), (80.5, 2), (80.5, 1.5), (81, 1.5), (81, 0), (78, 0), align=None)
    extrude(amount=PAD016_DEPTH)

    # Sketch032 (on Face205 of Pad016) → Pocket015 (cut)
    with BuildSketch(Plane(origin=(0, 20, 0), x_dir=(1, 0, 0), z_dir=(0, 1, 0))):
        Polygon((86.5, 2), (96.5, 2), (96.5, 1.5), (96, 1.5), (96, 0), (87, 0), (87, 1.5), (86.5, 1.5), align=None)
    extrude(amount=-POCKET015_DEPTH, mode=Mode.SUBTRACT)

    # Sketch033 (on Face207 of Pocket015) → Pocket016 (cut)
    with BuildSketch(Plane(origin=(0, 0, 0), x_dir=(-1, 0, 0), z_dir=(0, 0, 1))):
        with Locations((-84, -16.5)):
            Rectangle(SKETCH033_W, SKETCH033_H)
    extrude(amount=-POCKET016_DEPTH, mode=Mode.SUBTRACT)


solid = part.part
